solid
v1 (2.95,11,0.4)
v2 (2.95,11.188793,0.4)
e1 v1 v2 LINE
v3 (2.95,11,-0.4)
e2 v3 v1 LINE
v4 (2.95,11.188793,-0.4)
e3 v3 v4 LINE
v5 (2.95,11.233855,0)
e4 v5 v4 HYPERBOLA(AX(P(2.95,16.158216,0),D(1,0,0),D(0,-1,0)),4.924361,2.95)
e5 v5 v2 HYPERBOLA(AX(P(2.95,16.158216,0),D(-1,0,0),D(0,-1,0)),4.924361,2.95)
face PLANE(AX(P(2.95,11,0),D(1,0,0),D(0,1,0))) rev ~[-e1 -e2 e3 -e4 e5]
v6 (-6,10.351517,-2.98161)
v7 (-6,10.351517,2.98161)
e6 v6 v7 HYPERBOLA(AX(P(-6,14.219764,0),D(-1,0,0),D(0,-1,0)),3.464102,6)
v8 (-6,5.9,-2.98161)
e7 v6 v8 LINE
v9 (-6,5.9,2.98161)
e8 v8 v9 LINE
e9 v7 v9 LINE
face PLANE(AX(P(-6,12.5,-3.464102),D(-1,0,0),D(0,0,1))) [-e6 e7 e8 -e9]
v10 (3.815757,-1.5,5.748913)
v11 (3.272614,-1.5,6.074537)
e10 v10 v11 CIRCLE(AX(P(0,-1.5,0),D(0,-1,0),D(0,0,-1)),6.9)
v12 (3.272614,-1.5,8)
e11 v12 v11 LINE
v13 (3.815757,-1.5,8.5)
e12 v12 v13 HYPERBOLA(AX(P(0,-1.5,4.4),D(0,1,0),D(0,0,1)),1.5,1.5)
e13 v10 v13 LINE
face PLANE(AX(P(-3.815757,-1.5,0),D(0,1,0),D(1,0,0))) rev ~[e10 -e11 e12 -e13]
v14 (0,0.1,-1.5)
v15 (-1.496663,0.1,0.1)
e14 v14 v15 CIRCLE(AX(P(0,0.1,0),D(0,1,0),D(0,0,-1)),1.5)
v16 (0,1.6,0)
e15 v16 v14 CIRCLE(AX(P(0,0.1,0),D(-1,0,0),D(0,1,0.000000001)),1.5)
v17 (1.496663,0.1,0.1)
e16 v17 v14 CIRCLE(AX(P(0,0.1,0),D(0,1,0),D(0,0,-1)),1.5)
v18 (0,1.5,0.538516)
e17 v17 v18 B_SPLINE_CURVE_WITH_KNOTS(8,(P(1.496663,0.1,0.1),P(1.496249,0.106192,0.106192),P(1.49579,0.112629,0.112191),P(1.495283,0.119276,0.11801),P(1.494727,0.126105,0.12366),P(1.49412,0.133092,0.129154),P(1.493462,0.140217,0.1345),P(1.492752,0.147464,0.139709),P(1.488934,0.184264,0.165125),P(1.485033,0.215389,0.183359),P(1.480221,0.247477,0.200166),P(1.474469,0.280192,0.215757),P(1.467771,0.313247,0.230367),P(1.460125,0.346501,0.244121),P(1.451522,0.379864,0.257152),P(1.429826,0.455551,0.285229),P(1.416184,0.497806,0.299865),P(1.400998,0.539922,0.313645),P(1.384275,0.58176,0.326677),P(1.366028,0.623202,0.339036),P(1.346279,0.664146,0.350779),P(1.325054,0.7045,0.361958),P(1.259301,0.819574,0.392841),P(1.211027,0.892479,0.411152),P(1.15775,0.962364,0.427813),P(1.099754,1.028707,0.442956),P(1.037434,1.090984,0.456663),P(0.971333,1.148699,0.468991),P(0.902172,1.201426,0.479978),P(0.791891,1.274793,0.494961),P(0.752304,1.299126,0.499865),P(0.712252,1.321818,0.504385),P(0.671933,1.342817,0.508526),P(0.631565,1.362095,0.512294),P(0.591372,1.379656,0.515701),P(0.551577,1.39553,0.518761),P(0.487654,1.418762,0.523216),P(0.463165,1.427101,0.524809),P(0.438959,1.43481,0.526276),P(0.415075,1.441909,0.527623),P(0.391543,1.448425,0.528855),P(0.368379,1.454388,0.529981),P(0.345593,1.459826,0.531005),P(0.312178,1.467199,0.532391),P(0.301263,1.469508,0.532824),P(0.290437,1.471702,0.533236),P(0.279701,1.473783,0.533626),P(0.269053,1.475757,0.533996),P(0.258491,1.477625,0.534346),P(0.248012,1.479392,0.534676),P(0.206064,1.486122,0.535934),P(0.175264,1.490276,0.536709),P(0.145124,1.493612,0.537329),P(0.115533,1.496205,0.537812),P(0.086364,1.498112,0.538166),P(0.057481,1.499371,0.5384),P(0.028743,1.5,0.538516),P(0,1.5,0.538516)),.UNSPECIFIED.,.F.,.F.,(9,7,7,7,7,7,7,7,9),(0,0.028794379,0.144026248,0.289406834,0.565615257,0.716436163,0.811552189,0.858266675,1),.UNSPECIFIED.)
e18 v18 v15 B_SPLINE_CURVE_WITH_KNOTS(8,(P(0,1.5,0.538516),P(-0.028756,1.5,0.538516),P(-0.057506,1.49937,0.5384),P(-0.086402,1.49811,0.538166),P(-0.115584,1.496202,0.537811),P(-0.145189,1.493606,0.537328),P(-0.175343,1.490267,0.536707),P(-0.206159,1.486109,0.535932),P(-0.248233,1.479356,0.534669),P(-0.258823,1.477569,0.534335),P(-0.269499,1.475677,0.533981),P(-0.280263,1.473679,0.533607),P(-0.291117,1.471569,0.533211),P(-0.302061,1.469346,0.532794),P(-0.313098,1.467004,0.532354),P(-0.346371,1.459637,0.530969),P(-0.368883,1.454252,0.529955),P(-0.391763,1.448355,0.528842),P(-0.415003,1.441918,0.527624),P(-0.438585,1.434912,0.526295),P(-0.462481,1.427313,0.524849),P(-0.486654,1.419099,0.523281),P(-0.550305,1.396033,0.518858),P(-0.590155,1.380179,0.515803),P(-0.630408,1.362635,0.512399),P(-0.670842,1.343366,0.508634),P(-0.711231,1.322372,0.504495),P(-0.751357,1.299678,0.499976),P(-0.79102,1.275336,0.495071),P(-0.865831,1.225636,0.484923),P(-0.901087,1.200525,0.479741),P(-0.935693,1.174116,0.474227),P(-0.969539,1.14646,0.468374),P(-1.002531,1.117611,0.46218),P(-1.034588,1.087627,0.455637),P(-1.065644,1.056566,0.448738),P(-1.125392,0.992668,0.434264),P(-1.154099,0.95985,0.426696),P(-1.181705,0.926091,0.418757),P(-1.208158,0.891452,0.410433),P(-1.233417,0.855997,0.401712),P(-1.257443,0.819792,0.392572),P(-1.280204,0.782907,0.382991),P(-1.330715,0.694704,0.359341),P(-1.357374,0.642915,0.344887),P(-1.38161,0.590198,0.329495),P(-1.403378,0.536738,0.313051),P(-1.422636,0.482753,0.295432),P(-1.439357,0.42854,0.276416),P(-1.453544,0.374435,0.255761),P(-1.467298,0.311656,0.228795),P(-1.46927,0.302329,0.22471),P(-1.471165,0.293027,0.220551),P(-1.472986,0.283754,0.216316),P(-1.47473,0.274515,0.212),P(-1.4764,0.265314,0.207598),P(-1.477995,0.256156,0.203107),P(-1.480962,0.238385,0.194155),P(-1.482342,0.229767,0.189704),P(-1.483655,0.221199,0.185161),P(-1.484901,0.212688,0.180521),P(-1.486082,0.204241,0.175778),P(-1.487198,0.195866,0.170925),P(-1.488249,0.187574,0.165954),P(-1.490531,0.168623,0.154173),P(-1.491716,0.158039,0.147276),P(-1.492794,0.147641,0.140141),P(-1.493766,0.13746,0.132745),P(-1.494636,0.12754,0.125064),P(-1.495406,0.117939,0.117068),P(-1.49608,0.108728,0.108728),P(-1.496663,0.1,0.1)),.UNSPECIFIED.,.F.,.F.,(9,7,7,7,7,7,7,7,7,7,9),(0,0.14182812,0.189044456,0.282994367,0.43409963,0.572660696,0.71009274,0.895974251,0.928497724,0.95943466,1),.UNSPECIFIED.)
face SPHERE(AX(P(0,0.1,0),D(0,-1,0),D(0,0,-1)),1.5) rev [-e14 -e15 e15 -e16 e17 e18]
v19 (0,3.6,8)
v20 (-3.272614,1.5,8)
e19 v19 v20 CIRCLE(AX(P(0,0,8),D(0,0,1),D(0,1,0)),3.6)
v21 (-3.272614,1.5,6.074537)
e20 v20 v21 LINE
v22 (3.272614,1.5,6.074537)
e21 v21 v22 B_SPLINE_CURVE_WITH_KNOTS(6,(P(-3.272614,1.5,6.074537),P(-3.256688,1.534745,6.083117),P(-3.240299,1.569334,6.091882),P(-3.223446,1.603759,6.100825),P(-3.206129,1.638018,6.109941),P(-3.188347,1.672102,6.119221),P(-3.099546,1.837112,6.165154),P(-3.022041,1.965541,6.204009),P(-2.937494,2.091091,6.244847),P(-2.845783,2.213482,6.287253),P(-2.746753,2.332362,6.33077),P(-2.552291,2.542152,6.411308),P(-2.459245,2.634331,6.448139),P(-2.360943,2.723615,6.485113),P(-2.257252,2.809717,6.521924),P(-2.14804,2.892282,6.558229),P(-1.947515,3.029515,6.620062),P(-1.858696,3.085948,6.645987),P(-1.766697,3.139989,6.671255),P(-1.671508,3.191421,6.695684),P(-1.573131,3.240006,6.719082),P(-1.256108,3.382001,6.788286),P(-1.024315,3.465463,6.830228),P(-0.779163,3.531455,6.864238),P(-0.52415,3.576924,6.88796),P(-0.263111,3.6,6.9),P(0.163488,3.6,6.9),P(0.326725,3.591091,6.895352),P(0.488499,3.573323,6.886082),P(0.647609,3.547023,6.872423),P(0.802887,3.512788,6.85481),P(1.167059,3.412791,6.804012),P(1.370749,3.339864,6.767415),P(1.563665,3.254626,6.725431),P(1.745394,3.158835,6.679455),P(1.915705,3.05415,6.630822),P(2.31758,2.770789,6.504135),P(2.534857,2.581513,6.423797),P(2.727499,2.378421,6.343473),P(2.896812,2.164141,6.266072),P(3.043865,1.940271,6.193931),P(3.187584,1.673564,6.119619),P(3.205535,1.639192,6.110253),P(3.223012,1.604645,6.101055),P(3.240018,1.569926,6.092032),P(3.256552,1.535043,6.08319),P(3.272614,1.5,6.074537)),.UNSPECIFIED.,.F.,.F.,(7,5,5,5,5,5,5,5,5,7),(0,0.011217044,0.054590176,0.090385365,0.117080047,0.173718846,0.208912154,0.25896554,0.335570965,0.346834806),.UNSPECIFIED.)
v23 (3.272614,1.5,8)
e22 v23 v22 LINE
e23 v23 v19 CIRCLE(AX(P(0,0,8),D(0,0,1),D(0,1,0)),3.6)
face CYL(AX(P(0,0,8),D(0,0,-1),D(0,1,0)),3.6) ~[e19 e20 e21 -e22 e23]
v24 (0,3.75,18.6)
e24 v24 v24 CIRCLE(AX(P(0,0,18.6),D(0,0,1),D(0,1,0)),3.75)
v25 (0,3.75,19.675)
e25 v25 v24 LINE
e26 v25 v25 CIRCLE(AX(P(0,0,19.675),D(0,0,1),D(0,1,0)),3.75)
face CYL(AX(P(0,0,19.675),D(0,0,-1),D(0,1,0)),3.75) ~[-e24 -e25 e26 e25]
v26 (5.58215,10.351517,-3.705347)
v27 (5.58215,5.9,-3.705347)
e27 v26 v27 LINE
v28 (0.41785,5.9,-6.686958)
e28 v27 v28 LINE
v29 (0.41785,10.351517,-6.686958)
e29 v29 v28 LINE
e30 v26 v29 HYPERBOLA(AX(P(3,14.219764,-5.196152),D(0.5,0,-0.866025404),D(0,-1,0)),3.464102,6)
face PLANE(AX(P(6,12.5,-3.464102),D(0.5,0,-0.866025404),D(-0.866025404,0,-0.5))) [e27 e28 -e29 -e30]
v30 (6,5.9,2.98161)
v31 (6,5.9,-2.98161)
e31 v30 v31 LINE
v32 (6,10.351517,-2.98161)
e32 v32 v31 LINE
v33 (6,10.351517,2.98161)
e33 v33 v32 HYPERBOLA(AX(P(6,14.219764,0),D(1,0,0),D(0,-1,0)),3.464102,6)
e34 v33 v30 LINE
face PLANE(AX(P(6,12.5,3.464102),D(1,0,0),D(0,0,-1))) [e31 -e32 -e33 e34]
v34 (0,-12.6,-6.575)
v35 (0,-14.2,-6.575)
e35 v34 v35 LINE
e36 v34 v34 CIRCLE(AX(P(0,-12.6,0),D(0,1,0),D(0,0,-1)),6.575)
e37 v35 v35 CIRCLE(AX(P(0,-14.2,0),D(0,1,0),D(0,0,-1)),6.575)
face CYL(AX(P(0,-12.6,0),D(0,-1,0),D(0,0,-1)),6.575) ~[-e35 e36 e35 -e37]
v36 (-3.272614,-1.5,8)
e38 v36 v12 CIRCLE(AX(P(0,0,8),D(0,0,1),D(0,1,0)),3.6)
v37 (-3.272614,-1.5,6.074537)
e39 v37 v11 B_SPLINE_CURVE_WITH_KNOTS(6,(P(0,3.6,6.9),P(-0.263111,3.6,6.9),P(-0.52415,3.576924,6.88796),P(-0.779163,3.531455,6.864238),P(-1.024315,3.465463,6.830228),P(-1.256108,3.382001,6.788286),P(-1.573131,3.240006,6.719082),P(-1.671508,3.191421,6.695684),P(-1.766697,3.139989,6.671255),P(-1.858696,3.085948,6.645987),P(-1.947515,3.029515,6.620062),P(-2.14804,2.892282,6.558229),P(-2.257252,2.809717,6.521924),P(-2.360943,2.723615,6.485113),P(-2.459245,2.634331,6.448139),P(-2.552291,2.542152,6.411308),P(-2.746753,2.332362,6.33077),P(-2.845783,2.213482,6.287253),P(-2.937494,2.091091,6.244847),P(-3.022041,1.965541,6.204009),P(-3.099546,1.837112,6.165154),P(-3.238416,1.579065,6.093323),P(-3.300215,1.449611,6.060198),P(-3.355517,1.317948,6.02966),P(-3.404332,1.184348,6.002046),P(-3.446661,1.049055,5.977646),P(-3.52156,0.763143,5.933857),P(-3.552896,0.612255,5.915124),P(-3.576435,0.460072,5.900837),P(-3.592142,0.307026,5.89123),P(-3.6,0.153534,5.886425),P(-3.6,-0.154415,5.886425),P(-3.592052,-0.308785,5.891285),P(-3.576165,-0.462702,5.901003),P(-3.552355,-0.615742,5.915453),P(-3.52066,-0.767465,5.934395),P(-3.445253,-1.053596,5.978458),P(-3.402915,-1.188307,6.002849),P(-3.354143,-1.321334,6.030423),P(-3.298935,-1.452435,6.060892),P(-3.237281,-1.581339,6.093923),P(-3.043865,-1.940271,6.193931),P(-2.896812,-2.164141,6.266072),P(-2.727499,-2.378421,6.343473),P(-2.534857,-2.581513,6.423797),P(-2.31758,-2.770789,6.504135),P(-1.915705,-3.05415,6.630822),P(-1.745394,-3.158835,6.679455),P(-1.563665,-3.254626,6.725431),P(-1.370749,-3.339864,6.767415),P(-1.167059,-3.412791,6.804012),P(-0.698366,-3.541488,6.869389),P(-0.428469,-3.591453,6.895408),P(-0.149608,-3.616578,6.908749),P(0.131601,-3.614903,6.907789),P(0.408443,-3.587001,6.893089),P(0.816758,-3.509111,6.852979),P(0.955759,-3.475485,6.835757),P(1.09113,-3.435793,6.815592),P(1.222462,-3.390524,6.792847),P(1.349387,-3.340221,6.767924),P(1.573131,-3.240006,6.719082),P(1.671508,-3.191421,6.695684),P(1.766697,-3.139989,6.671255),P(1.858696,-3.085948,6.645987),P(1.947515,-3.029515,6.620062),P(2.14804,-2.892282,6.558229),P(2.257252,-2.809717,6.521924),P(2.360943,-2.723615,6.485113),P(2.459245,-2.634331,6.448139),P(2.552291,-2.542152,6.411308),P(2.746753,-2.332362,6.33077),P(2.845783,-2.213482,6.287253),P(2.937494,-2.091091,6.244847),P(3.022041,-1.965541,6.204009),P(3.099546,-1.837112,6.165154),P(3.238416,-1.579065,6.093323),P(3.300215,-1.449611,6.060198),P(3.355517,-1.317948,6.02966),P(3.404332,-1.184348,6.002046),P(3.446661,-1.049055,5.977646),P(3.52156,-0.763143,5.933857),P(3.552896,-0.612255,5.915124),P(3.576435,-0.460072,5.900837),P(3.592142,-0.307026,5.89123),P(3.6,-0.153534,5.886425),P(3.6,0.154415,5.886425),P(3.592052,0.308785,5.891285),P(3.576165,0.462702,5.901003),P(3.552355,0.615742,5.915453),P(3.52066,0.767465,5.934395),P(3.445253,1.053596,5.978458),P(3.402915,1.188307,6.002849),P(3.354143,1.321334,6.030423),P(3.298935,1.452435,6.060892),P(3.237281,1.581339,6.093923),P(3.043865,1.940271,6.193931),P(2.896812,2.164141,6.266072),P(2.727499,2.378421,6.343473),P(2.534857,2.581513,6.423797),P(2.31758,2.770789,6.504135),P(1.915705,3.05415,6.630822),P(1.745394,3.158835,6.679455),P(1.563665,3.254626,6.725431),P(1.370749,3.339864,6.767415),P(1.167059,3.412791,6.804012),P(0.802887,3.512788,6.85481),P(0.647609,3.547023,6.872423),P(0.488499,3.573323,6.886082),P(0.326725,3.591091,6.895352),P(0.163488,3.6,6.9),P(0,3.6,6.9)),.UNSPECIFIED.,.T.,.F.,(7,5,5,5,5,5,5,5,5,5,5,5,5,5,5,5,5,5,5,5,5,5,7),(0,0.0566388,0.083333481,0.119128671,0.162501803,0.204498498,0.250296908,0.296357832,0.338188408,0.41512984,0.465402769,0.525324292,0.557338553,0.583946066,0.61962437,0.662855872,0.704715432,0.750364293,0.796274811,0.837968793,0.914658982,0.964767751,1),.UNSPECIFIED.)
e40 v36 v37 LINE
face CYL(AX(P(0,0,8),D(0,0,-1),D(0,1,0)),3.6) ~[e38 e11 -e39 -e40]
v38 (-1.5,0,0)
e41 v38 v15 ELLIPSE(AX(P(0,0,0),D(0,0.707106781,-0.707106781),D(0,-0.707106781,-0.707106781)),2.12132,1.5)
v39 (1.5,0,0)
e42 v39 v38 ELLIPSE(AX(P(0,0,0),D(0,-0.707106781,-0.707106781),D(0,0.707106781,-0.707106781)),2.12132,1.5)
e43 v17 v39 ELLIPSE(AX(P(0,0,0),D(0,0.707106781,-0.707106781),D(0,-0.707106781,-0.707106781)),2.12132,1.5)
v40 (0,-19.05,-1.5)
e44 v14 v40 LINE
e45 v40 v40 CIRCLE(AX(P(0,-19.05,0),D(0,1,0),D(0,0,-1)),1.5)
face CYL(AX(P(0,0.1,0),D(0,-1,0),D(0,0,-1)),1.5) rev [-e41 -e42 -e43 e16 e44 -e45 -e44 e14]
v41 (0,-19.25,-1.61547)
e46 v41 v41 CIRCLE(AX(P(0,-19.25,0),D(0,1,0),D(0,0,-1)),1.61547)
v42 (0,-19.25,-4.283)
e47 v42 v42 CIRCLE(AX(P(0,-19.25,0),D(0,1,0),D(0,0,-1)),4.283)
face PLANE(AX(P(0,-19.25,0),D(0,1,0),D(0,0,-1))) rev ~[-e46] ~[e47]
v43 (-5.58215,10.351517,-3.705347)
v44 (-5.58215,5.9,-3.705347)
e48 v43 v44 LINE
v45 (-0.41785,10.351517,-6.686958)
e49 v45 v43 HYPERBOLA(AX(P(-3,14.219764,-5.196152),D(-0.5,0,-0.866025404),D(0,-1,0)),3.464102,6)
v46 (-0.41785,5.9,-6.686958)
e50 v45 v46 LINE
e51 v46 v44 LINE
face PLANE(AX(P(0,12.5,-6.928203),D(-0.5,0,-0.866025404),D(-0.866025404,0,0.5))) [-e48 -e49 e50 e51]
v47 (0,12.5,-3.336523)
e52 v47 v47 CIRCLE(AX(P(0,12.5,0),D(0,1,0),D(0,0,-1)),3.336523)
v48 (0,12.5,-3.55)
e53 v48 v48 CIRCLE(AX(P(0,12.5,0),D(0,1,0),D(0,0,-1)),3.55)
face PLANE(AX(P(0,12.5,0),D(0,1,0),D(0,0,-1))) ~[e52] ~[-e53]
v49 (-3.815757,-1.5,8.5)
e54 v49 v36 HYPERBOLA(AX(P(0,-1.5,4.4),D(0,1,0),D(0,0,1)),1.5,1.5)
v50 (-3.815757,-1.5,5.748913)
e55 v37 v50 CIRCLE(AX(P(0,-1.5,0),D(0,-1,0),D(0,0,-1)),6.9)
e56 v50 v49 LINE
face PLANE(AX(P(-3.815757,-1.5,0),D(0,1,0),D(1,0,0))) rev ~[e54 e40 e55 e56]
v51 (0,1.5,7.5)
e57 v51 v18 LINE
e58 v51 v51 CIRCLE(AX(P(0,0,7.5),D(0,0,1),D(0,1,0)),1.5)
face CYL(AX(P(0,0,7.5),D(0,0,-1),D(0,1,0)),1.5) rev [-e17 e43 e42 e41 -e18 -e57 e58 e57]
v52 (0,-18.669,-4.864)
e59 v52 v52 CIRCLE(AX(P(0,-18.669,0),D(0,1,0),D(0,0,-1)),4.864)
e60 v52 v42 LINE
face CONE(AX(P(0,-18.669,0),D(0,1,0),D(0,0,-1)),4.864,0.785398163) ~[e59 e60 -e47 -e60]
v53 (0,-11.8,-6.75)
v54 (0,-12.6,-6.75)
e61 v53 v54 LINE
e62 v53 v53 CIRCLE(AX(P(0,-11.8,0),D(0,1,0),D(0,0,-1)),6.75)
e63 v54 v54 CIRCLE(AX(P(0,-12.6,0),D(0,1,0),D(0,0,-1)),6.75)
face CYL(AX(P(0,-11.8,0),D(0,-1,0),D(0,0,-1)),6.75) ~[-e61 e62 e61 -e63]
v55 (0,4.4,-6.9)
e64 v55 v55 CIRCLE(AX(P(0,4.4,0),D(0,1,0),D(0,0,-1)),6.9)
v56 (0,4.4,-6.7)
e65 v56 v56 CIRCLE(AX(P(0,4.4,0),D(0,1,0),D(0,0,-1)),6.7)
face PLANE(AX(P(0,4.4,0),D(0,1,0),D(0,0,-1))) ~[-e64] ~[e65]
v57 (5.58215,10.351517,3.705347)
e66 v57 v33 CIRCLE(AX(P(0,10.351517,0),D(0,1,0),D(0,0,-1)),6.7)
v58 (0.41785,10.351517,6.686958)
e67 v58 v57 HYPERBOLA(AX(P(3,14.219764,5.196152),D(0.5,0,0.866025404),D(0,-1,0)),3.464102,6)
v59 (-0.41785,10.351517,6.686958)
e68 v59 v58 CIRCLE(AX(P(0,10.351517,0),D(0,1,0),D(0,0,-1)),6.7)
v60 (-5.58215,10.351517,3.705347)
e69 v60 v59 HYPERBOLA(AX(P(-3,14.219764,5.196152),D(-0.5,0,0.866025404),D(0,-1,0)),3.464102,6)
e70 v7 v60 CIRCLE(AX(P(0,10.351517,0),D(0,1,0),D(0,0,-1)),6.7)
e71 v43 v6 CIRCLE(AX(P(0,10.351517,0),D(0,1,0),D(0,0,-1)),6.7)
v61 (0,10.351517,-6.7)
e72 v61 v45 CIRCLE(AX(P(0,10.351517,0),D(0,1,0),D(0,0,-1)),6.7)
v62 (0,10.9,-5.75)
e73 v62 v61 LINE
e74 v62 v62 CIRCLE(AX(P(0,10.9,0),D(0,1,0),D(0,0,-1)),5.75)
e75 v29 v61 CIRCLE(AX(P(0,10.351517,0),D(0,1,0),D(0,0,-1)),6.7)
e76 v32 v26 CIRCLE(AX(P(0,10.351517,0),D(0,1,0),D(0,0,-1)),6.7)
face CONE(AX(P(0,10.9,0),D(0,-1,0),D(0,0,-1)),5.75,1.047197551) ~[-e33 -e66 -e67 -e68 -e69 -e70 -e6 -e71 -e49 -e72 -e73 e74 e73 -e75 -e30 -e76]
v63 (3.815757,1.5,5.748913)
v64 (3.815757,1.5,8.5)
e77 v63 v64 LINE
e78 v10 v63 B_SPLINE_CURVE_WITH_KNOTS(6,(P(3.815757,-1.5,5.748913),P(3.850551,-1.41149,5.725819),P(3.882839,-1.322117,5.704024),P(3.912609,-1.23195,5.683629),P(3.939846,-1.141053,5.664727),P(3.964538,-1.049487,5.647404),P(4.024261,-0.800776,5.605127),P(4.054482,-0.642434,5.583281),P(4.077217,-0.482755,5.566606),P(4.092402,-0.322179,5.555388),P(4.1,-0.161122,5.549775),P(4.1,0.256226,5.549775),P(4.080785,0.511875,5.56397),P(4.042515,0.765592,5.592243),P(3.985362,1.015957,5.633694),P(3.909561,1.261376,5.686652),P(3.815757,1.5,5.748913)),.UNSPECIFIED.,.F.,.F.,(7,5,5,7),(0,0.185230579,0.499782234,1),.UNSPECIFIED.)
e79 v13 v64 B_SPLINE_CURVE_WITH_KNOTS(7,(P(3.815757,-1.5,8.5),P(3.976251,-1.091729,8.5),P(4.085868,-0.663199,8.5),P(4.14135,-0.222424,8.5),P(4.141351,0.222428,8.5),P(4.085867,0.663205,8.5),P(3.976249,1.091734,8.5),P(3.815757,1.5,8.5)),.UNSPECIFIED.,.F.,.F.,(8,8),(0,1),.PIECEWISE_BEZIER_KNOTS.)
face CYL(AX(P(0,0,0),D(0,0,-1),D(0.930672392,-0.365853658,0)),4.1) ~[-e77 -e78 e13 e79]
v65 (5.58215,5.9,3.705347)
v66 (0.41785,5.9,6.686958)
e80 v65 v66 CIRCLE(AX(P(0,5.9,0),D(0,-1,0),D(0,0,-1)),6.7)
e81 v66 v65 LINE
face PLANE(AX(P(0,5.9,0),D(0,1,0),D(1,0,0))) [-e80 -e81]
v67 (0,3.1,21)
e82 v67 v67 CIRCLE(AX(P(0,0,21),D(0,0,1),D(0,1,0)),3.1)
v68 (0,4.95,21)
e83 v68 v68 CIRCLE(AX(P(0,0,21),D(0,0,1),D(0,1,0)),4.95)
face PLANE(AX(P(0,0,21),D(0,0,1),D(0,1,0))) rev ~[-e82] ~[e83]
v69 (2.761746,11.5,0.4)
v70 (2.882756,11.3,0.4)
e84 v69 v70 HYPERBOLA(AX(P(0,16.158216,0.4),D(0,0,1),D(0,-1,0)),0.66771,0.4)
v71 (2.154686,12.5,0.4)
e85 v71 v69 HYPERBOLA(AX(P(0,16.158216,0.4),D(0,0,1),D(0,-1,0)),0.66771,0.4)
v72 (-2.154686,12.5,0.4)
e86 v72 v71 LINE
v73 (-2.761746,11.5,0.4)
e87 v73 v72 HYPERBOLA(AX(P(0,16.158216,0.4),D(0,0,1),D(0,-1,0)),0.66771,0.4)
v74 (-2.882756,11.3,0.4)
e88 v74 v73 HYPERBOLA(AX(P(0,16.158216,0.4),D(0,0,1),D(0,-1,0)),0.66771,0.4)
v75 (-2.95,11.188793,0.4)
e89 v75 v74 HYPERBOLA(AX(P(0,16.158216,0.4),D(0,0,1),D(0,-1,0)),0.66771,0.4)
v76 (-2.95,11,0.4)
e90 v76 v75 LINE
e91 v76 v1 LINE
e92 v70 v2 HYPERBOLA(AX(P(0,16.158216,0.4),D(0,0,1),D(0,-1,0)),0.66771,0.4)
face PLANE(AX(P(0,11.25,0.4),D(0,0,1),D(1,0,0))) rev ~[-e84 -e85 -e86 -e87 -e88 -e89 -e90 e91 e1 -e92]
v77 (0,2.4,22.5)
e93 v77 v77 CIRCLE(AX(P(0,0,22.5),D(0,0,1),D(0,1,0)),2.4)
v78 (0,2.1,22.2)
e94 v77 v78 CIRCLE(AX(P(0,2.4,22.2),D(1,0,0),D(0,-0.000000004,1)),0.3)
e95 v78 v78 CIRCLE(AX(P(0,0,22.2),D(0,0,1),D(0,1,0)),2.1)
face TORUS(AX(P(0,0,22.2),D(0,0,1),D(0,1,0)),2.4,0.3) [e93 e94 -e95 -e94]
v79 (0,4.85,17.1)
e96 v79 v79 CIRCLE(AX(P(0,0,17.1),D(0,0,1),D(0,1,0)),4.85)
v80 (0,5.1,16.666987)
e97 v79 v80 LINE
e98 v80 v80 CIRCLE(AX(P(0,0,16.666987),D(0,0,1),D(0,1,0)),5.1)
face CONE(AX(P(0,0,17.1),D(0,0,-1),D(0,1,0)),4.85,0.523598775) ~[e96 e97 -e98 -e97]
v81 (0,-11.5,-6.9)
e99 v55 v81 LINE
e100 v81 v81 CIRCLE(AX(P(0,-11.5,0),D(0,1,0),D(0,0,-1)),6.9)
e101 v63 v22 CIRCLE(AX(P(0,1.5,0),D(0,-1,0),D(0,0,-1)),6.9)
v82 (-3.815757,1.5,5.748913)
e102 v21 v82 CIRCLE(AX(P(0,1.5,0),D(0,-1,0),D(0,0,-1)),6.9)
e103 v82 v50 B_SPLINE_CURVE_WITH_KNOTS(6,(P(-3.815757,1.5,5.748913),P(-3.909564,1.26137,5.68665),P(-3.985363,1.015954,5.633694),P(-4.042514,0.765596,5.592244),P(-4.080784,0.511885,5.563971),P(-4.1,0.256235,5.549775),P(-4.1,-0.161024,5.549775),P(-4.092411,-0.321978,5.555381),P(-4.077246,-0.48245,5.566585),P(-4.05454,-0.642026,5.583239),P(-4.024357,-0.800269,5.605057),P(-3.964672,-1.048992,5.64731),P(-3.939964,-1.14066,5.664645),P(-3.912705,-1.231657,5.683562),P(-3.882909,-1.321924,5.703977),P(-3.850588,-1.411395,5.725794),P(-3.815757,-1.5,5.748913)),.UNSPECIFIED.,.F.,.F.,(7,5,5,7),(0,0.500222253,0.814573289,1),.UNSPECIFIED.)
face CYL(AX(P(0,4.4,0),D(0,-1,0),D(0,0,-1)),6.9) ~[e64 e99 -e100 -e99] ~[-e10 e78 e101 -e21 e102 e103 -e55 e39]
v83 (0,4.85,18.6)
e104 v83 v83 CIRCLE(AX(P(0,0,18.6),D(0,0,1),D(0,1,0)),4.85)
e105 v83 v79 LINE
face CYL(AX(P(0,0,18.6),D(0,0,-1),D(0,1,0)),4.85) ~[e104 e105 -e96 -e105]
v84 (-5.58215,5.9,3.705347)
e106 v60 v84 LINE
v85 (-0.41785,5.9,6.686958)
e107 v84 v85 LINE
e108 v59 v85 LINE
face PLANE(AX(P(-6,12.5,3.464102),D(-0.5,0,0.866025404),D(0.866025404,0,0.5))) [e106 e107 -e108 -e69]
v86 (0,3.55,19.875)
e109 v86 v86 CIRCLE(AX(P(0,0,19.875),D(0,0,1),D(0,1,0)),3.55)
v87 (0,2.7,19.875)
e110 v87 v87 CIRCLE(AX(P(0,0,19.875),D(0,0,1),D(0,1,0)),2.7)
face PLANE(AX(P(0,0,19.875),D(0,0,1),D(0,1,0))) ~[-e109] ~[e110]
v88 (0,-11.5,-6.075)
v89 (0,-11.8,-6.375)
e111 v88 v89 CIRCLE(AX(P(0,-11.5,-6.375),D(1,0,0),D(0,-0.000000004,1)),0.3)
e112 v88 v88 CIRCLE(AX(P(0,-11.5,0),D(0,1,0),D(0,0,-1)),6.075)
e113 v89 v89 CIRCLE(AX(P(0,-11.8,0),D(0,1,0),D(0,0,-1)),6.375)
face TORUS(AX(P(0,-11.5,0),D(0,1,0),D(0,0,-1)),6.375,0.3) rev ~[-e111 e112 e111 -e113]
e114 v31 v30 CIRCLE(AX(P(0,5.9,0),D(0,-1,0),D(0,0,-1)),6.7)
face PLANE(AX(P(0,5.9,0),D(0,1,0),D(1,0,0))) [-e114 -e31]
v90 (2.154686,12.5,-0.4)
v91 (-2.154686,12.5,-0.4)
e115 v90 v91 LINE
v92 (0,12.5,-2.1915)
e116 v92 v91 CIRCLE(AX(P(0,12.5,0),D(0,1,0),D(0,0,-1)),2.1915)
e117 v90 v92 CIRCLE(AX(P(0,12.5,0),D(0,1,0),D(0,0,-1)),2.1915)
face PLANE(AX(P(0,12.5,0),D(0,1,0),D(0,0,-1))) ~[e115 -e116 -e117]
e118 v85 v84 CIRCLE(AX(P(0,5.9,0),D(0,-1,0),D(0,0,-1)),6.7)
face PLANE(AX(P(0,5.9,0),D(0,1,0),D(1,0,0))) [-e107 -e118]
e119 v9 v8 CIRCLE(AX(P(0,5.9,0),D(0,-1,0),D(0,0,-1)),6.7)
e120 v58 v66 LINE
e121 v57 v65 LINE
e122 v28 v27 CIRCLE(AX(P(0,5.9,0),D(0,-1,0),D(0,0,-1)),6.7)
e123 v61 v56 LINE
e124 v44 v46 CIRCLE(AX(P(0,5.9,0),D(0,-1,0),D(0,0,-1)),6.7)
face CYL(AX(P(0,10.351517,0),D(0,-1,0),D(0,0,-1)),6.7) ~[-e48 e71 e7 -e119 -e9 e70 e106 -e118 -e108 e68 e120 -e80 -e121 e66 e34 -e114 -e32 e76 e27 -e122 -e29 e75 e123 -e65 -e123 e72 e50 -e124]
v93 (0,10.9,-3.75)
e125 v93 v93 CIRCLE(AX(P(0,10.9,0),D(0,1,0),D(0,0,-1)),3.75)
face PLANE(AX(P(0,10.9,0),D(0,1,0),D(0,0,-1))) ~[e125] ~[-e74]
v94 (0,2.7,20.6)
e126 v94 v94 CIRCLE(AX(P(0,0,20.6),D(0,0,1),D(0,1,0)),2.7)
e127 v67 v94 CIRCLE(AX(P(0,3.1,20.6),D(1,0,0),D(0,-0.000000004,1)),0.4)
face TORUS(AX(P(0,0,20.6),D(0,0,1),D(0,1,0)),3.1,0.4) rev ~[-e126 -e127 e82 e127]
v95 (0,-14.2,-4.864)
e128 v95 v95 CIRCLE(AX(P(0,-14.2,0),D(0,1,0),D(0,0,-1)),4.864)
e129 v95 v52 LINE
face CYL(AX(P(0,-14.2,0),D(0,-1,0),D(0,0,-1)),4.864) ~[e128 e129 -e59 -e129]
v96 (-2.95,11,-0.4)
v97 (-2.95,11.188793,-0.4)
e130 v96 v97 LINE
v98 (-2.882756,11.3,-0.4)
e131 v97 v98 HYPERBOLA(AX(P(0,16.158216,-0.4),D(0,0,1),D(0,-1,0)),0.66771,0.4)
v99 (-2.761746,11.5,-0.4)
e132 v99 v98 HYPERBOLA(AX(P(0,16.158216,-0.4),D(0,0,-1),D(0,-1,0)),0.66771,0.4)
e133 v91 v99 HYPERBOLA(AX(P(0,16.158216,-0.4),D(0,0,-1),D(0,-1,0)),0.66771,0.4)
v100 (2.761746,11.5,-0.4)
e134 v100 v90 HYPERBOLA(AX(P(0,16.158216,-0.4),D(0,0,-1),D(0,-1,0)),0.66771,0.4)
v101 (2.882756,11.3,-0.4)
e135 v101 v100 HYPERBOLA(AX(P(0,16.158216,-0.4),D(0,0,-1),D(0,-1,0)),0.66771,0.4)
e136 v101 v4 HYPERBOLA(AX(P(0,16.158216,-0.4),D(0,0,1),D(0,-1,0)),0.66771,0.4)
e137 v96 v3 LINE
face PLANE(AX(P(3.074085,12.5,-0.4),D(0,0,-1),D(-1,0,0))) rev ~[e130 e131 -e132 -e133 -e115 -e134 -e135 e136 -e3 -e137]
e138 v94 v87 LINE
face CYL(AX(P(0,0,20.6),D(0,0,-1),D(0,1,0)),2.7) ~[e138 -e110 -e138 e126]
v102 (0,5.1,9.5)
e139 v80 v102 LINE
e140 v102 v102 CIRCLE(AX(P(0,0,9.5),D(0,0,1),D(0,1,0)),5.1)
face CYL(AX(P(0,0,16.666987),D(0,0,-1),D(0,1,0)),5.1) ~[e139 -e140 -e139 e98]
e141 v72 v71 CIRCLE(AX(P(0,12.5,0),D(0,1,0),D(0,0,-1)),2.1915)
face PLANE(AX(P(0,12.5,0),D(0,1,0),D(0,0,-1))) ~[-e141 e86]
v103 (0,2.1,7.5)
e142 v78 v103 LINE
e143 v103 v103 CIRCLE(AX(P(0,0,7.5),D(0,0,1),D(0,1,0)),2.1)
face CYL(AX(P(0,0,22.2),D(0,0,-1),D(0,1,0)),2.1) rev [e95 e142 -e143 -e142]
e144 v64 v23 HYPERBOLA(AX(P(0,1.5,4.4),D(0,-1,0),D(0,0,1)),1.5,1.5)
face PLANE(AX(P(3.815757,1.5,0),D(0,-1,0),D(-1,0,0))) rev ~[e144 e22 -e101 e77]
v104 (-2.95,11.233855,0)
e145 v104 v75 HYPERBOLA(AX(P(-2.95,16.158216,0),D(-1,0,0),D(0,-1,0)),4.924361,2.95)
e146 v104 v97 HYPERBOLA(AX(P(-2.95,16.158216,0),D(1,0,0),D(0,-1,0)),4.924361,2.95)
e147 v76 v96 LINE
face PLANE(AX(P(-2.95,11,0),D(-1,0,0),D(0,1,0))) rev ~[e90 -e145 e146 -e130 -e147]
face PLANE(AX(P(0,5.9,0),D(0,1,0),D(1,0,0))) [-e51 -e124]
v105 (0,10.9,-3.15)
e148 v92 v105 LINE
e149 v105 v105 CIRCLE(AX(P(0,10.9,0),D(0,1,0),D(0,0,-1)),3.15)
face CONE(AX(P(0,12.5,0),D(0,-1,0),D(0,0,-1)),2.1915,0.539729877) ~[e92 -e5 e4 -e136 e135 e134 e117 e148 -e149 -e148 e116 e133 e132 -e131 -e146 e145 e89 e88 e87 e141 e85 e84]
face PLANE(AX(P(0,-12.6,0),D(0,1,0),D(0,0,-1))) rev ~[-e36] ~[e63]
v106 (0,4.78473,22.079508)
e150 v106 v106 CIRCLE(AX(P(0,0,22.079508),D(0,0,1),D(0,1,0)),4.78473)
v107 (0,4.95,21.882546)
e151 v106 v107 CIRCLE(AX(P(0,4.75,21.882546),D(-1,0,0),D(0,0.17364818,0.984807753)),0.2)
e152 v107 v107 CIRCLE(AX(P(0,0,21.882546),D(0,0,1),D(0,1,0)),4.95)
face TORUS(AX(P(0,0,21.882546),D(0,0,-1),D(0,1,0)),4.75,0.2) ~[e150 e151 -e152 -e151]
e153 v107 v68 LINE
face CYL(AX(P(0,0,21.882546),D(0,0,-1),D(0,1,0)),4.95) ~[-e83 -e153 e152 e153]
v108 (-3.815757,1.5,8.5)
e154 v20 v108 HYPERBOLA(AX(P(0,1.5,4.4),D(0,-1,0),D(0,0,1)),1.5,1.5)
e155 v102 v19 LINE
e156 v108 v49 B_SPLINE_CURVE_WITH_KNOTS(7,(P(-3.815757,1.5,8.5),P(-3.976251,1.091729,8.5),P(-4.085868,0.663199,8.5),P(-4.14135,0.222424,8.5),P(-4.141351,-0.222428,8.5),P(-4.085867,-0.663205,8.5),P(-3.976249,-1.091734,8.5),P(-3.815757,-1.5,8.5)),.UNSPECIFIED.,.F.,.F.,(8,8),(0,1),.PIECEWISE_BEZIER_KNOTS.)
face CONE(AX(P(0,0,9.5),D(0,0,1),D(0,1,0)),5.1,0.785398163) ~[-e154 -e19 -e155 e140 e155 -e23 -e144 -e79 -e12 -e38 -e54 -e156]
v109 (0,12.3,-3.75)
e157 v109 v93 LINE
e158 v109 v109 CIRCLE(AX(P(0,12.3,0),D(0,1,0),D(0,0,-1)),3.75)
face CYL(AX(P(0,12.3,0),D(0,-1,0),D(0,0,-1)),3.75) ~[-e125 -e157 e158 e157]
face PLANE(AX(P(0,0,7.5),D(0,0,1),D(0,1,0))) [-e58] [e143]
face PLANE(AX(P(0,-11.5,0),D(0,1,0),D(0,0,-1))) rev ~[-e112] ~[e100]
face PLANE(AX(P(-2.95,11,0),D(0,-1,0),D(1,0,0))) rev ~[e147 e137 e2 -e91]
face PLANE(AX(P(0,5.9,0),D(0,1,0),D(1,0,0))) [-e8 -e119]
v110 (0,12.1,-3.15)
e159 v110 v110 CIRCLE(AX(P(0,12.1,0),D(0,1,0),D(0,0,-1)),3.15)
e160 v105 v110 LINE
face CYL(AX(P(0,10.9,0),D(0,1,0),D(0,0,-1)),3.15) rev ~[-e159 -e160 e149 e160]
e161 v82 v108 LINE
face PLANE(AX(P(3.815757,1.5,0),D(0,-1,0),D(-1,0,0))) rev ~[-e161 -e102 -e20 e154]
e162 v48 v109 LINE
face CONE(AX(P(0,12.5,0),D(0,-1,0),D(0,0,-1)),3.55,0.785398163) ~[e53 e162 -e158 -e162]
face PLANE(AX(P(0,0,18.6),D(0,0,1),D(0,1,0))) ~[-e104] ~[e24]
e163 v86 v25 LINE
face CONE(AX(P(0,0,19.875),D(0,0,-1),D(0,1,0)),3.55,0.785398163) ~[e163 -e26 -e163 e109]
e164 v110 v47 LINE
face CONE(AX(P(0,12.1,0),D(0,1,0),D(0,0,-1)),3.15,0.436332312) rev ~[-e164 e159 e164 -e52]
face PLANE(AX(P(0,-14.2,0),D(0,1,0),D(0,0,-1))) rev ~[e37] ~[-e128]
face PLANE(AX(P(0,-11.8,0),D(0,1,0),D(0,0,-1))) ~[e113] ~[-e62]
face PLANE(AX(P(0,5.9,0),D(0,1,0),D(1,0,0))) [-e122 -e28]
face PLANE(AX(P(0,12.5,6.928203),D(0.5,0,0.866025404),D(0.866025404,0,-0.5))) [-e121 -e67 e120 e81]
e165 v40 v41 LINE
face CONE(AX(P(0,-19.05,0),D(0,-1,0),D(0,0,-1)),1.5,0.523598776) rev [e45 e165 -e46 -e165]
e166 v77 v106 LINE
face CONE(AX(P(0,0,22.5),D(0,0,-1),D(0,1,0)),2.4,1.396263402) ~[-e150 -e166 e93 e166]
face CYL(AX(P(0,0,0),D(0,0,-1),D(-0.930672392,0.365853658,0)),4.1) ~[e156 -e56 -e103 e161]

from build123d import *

# Parameters (mm, degrees)
SCHNITT_LINEAR_AUSTRAGEN1_DEPTH      = 1.2
SKIZZE3_W                            = 24
SKIZZE3_H                            = 24
SCHNITT_LINEAR_AUSTRAGEN2_DEPTH      = 6.6
AUFSATZ_LINEAR_AUSTRAGEN1_DEPTH      = 11.25
SCHNITT_LINEAR_AUSTRAGEN3_DEPTH      = 0.4
SCHNITT_LINEAR_AUSTRAGEN3_DEPTH_BACK = 0.4
SKIZZE8_W                            = 5.9
SKIZZE8_H                            = 0.5


with BuildPart() as part:
    # Skizze1 → Rotation1 (revolve)
    with BuildSketch(Plane(origin=(0, 0, 0), x_dir=(0, 0, -1), z_dir=(1, 0, 0))):
        with BuildLine():
            Line((0, 12.5), (2.1915, 12.5))
            Line((2.1915, 12.5), (3.15, 10.9))
            Line((3.15, 10.9), (3.15, 12.1))
            Line((3.15, 12.1), (3.336523063, 12.5))
            Line((3.336523063, 12.5), (3.55, 12.5))
            Line((3.55, 12.5), (3.75, 12.3))
            Line((3.75, 12.3), (3.75, 10.9))
            Line((3.75, 10.9), (5.75, 10.9))
            Line((5.75, 10.9), (6.7, 10.351517244))
            Line((6.7, 10.351517244), (6.7, 4.4))
            Line((6.7, 4.4), (6.9, 4.4))
            Line((6.9, 4.4), (6.9, -11.5))
            Line((6.9, -11.5), (6.075, -11.5))
            ThreePointArc((6.075, -11.5), (6.162867966, -11.712132034), (6.375, -11.8))
            Line((6.375, -11.8), (6.75, -11.8))
            Line((6.75, -11.8), (6.75, -12.6))
            Line((6.75, -12.6), (6.575, -12.6))
            Line((6.575, -12.6), (6.575, -14.2))
            Line((6.575, -14.2), (4.864, -14.2))
            Line((4.864, -14.2), (4.864, -18.669))
            Line((4.864, -18.669), (4.283, -19.25))
            Line((4.283, -19.25), (0, -19.25))
            Line((0, -19.25), (0, 12.5))
        make_face()
    revolve(axis=Axis((0, -19.25, 0), (0, 1, 0)))

    # Skizze2 → Schnitt-Linear austragen1 (cut)
    with BuildSketch(Plane(origin=(0, 12.5, 0), x_dir=(1, 0, 0), z_dir=(0, 1, 0))):
        with BuildLine():
            Line((-3.07408523, -0.4), (3.07408523, -0.4))
            ThreePointArc((3.07408523, -0.4), (3.1, 0), (3.07408523, 0.4))
            Line((3.07408523, 0.4), (-3.07408523, 0.4))
            ThreePointArc((-3.07408523, 0.4), (-3.1, 0), (-3.07408523, -0.4))
        make_face()
    extrude(amount=-SCHNITT_LINEAR_AUSTRAGEN1_DEPTH, mode=Mode.SUBTRACT)

    # Skizze3 → Schnitt-Linear austragen2 (cut)
    with BuildSketch(Plane(origin=(0, 12.5, 0), x_dir=(1, 0, 0), z_dir=(0, 1, 0))):
        Rectangle(SKIZZE3_W, SKIZZE3_H)
        Polygon((-6, -3.464101615), (0, -6.92820323), (6, -3.464101615), (6, 3.464101615), (0, 6.92820323), (-6, 3.464101615), align=None, mode=Mode.SUBTRACT)
    extrude(amount=-SCHNITT_LINEAR_AUSTRAGEN2_DEPTH, mode=Mode.SUBTRACT)

    # Skizze4 → Rotation2 (revolve)
    with BuildSketch(Plane(origin=(0, 0, 0), x_dir=(0, 0, -1), z_dir=(1, 0, 0))):
        with BuildLine():
            Line((-22.5, 0), (-22.5, 2.4))
            Line((-22.5, 2.4), (-22.079507824, 4.784729636))
            ThreePointArc((-22.079507824, 4.784729636), (-22.011103795, 4.903208889), (-21.882546273, 4.95))
            Line((-21.882546273, 4.95), (-21, 4.95))
            Line((-21, 4.95), (-21, 3.1))
            ThreePointArc((-21, 3.1), (-20.882842712, 2.817157288), (-20.6, 2.7))
            Line((-20.6, 2.7), (-19.875, 2.7))
            Line((-19.875, 2.7), (-19.875, 3.55))
            Line((-19.875, 3.55), (-19.675, 3.75))
            Line((-19.675, 3.75), (-18.6, 3.75))
            Line((-18.6, 3.75), (-18.6, 4.85))
            Line((-18.6, 4.85), (-17.1, 4.85))
            Line((-17.1, 4.85), (-16.666987298, 5.1))
            Line((-16.666987298, 5.1), (-9.5, 5.1))
            Line((-9.5, 5.1), (-8, 3.6))
            Line((-8, 3.6), (0, 3.6))
            Line((0, 3.6), (0, 0))
            Line((0, 0), (-22.5, 0))
        make_face()
    revolve(axis=Axis((0, 0, 0), (0, 0, 1)))

    # Skizze5 → Aufsatz-Linear austragen1 (add)
    with BuildSketch(Plane.XY):
        with BuildLine():
            Line((-3.815756806, -1.5), (3.815756806, -1.5))
            ThreePointArc((3.815756806, -1.5), (4.1, 0), (3.815756806, 1.5))
            Line((3.815756806, 1.5), (-3.815756806, 1.5))
            ThreePointArc((-3.815756806, 1.5), (-4.1, 0), (-3.815756806, -1.5))
        make_face()
    extrude(amount=AUFSATZ_LINEAR_AUSTRAGEN1_DEPTH)

    # Skizze6 → Schnitt-Rotation1 (revolve, cut)
    with BuildSketch(Plane(origin=(0, 0, 0), x_dir=(0, 0, -1), z_dir=(1, 0, 0))):
        with BuildLine():
            Line((-22.5, 0), (-22.5, 2.4))
            ThreePointArc((-22.5, 2.4), (-22.412132034, 2.187867966), (-22.2, 2.1))
            Line((-22.2, 2.1), (-7.5, 2.1))
            Line((-7.5, 2.1), (-7.5, 1.5))
            Line((-7.5, 1.5), (0, 1.5))
            Line((0, 1.5), (0, 0))
            Line((0, 0), (-22.5, 0))
        make_face()
    revolve(axis=Axis((0, 0, 0), (0, 0, 1)), mode=Mode.SUBTRACT)

    # Skizze7 → Schnitt-Rotation2 (revolve, cut)
    with BuildSketch(Plane(origin=(0, 0, 0), x_dir=(0, 0, -1), z_dir=(1, 0, 0))):
        with BuildLine():
            Line((1.5, 0.1), (1.5, -19.05))
            Line((1.5, -19.05), (1.615470054, -19.25))
            Line((1.615470054, -19.25), (0, -19.25))
            Line((0, -19.25), (0, 1.6))
            ThreePointArc((0, 1.6), (1.060660172, 1.160660172), (1.5, 0.1))
        make_face()
    revolve(axis=Axis((0, -19.25, 0), (0, 1, 0)), mode=Mode.SUBTRACT)

    # Skizze8 → Schnitt-Linear austragen3 (cut, two sides: drawn at the far end of the back side and taken through both)
    with BuildSketch(Plane.XY.offset(-SCHNITT_LINEAR_AUSTRAGEN3_DEPTH_BACK)):
        with Locations((0, 11.25)):
            Rectangle(SKIZZE8_W, SKIZZE8_H)
    extrude(amount=SCHNITT_LINEAR_AUSTRAGEN3_DEPTH + SCHNITT_LINEAR_AUSTRAGEN3_DEPTH_BACK, mode=Mode.SUBTRACT)


solid = part.part
